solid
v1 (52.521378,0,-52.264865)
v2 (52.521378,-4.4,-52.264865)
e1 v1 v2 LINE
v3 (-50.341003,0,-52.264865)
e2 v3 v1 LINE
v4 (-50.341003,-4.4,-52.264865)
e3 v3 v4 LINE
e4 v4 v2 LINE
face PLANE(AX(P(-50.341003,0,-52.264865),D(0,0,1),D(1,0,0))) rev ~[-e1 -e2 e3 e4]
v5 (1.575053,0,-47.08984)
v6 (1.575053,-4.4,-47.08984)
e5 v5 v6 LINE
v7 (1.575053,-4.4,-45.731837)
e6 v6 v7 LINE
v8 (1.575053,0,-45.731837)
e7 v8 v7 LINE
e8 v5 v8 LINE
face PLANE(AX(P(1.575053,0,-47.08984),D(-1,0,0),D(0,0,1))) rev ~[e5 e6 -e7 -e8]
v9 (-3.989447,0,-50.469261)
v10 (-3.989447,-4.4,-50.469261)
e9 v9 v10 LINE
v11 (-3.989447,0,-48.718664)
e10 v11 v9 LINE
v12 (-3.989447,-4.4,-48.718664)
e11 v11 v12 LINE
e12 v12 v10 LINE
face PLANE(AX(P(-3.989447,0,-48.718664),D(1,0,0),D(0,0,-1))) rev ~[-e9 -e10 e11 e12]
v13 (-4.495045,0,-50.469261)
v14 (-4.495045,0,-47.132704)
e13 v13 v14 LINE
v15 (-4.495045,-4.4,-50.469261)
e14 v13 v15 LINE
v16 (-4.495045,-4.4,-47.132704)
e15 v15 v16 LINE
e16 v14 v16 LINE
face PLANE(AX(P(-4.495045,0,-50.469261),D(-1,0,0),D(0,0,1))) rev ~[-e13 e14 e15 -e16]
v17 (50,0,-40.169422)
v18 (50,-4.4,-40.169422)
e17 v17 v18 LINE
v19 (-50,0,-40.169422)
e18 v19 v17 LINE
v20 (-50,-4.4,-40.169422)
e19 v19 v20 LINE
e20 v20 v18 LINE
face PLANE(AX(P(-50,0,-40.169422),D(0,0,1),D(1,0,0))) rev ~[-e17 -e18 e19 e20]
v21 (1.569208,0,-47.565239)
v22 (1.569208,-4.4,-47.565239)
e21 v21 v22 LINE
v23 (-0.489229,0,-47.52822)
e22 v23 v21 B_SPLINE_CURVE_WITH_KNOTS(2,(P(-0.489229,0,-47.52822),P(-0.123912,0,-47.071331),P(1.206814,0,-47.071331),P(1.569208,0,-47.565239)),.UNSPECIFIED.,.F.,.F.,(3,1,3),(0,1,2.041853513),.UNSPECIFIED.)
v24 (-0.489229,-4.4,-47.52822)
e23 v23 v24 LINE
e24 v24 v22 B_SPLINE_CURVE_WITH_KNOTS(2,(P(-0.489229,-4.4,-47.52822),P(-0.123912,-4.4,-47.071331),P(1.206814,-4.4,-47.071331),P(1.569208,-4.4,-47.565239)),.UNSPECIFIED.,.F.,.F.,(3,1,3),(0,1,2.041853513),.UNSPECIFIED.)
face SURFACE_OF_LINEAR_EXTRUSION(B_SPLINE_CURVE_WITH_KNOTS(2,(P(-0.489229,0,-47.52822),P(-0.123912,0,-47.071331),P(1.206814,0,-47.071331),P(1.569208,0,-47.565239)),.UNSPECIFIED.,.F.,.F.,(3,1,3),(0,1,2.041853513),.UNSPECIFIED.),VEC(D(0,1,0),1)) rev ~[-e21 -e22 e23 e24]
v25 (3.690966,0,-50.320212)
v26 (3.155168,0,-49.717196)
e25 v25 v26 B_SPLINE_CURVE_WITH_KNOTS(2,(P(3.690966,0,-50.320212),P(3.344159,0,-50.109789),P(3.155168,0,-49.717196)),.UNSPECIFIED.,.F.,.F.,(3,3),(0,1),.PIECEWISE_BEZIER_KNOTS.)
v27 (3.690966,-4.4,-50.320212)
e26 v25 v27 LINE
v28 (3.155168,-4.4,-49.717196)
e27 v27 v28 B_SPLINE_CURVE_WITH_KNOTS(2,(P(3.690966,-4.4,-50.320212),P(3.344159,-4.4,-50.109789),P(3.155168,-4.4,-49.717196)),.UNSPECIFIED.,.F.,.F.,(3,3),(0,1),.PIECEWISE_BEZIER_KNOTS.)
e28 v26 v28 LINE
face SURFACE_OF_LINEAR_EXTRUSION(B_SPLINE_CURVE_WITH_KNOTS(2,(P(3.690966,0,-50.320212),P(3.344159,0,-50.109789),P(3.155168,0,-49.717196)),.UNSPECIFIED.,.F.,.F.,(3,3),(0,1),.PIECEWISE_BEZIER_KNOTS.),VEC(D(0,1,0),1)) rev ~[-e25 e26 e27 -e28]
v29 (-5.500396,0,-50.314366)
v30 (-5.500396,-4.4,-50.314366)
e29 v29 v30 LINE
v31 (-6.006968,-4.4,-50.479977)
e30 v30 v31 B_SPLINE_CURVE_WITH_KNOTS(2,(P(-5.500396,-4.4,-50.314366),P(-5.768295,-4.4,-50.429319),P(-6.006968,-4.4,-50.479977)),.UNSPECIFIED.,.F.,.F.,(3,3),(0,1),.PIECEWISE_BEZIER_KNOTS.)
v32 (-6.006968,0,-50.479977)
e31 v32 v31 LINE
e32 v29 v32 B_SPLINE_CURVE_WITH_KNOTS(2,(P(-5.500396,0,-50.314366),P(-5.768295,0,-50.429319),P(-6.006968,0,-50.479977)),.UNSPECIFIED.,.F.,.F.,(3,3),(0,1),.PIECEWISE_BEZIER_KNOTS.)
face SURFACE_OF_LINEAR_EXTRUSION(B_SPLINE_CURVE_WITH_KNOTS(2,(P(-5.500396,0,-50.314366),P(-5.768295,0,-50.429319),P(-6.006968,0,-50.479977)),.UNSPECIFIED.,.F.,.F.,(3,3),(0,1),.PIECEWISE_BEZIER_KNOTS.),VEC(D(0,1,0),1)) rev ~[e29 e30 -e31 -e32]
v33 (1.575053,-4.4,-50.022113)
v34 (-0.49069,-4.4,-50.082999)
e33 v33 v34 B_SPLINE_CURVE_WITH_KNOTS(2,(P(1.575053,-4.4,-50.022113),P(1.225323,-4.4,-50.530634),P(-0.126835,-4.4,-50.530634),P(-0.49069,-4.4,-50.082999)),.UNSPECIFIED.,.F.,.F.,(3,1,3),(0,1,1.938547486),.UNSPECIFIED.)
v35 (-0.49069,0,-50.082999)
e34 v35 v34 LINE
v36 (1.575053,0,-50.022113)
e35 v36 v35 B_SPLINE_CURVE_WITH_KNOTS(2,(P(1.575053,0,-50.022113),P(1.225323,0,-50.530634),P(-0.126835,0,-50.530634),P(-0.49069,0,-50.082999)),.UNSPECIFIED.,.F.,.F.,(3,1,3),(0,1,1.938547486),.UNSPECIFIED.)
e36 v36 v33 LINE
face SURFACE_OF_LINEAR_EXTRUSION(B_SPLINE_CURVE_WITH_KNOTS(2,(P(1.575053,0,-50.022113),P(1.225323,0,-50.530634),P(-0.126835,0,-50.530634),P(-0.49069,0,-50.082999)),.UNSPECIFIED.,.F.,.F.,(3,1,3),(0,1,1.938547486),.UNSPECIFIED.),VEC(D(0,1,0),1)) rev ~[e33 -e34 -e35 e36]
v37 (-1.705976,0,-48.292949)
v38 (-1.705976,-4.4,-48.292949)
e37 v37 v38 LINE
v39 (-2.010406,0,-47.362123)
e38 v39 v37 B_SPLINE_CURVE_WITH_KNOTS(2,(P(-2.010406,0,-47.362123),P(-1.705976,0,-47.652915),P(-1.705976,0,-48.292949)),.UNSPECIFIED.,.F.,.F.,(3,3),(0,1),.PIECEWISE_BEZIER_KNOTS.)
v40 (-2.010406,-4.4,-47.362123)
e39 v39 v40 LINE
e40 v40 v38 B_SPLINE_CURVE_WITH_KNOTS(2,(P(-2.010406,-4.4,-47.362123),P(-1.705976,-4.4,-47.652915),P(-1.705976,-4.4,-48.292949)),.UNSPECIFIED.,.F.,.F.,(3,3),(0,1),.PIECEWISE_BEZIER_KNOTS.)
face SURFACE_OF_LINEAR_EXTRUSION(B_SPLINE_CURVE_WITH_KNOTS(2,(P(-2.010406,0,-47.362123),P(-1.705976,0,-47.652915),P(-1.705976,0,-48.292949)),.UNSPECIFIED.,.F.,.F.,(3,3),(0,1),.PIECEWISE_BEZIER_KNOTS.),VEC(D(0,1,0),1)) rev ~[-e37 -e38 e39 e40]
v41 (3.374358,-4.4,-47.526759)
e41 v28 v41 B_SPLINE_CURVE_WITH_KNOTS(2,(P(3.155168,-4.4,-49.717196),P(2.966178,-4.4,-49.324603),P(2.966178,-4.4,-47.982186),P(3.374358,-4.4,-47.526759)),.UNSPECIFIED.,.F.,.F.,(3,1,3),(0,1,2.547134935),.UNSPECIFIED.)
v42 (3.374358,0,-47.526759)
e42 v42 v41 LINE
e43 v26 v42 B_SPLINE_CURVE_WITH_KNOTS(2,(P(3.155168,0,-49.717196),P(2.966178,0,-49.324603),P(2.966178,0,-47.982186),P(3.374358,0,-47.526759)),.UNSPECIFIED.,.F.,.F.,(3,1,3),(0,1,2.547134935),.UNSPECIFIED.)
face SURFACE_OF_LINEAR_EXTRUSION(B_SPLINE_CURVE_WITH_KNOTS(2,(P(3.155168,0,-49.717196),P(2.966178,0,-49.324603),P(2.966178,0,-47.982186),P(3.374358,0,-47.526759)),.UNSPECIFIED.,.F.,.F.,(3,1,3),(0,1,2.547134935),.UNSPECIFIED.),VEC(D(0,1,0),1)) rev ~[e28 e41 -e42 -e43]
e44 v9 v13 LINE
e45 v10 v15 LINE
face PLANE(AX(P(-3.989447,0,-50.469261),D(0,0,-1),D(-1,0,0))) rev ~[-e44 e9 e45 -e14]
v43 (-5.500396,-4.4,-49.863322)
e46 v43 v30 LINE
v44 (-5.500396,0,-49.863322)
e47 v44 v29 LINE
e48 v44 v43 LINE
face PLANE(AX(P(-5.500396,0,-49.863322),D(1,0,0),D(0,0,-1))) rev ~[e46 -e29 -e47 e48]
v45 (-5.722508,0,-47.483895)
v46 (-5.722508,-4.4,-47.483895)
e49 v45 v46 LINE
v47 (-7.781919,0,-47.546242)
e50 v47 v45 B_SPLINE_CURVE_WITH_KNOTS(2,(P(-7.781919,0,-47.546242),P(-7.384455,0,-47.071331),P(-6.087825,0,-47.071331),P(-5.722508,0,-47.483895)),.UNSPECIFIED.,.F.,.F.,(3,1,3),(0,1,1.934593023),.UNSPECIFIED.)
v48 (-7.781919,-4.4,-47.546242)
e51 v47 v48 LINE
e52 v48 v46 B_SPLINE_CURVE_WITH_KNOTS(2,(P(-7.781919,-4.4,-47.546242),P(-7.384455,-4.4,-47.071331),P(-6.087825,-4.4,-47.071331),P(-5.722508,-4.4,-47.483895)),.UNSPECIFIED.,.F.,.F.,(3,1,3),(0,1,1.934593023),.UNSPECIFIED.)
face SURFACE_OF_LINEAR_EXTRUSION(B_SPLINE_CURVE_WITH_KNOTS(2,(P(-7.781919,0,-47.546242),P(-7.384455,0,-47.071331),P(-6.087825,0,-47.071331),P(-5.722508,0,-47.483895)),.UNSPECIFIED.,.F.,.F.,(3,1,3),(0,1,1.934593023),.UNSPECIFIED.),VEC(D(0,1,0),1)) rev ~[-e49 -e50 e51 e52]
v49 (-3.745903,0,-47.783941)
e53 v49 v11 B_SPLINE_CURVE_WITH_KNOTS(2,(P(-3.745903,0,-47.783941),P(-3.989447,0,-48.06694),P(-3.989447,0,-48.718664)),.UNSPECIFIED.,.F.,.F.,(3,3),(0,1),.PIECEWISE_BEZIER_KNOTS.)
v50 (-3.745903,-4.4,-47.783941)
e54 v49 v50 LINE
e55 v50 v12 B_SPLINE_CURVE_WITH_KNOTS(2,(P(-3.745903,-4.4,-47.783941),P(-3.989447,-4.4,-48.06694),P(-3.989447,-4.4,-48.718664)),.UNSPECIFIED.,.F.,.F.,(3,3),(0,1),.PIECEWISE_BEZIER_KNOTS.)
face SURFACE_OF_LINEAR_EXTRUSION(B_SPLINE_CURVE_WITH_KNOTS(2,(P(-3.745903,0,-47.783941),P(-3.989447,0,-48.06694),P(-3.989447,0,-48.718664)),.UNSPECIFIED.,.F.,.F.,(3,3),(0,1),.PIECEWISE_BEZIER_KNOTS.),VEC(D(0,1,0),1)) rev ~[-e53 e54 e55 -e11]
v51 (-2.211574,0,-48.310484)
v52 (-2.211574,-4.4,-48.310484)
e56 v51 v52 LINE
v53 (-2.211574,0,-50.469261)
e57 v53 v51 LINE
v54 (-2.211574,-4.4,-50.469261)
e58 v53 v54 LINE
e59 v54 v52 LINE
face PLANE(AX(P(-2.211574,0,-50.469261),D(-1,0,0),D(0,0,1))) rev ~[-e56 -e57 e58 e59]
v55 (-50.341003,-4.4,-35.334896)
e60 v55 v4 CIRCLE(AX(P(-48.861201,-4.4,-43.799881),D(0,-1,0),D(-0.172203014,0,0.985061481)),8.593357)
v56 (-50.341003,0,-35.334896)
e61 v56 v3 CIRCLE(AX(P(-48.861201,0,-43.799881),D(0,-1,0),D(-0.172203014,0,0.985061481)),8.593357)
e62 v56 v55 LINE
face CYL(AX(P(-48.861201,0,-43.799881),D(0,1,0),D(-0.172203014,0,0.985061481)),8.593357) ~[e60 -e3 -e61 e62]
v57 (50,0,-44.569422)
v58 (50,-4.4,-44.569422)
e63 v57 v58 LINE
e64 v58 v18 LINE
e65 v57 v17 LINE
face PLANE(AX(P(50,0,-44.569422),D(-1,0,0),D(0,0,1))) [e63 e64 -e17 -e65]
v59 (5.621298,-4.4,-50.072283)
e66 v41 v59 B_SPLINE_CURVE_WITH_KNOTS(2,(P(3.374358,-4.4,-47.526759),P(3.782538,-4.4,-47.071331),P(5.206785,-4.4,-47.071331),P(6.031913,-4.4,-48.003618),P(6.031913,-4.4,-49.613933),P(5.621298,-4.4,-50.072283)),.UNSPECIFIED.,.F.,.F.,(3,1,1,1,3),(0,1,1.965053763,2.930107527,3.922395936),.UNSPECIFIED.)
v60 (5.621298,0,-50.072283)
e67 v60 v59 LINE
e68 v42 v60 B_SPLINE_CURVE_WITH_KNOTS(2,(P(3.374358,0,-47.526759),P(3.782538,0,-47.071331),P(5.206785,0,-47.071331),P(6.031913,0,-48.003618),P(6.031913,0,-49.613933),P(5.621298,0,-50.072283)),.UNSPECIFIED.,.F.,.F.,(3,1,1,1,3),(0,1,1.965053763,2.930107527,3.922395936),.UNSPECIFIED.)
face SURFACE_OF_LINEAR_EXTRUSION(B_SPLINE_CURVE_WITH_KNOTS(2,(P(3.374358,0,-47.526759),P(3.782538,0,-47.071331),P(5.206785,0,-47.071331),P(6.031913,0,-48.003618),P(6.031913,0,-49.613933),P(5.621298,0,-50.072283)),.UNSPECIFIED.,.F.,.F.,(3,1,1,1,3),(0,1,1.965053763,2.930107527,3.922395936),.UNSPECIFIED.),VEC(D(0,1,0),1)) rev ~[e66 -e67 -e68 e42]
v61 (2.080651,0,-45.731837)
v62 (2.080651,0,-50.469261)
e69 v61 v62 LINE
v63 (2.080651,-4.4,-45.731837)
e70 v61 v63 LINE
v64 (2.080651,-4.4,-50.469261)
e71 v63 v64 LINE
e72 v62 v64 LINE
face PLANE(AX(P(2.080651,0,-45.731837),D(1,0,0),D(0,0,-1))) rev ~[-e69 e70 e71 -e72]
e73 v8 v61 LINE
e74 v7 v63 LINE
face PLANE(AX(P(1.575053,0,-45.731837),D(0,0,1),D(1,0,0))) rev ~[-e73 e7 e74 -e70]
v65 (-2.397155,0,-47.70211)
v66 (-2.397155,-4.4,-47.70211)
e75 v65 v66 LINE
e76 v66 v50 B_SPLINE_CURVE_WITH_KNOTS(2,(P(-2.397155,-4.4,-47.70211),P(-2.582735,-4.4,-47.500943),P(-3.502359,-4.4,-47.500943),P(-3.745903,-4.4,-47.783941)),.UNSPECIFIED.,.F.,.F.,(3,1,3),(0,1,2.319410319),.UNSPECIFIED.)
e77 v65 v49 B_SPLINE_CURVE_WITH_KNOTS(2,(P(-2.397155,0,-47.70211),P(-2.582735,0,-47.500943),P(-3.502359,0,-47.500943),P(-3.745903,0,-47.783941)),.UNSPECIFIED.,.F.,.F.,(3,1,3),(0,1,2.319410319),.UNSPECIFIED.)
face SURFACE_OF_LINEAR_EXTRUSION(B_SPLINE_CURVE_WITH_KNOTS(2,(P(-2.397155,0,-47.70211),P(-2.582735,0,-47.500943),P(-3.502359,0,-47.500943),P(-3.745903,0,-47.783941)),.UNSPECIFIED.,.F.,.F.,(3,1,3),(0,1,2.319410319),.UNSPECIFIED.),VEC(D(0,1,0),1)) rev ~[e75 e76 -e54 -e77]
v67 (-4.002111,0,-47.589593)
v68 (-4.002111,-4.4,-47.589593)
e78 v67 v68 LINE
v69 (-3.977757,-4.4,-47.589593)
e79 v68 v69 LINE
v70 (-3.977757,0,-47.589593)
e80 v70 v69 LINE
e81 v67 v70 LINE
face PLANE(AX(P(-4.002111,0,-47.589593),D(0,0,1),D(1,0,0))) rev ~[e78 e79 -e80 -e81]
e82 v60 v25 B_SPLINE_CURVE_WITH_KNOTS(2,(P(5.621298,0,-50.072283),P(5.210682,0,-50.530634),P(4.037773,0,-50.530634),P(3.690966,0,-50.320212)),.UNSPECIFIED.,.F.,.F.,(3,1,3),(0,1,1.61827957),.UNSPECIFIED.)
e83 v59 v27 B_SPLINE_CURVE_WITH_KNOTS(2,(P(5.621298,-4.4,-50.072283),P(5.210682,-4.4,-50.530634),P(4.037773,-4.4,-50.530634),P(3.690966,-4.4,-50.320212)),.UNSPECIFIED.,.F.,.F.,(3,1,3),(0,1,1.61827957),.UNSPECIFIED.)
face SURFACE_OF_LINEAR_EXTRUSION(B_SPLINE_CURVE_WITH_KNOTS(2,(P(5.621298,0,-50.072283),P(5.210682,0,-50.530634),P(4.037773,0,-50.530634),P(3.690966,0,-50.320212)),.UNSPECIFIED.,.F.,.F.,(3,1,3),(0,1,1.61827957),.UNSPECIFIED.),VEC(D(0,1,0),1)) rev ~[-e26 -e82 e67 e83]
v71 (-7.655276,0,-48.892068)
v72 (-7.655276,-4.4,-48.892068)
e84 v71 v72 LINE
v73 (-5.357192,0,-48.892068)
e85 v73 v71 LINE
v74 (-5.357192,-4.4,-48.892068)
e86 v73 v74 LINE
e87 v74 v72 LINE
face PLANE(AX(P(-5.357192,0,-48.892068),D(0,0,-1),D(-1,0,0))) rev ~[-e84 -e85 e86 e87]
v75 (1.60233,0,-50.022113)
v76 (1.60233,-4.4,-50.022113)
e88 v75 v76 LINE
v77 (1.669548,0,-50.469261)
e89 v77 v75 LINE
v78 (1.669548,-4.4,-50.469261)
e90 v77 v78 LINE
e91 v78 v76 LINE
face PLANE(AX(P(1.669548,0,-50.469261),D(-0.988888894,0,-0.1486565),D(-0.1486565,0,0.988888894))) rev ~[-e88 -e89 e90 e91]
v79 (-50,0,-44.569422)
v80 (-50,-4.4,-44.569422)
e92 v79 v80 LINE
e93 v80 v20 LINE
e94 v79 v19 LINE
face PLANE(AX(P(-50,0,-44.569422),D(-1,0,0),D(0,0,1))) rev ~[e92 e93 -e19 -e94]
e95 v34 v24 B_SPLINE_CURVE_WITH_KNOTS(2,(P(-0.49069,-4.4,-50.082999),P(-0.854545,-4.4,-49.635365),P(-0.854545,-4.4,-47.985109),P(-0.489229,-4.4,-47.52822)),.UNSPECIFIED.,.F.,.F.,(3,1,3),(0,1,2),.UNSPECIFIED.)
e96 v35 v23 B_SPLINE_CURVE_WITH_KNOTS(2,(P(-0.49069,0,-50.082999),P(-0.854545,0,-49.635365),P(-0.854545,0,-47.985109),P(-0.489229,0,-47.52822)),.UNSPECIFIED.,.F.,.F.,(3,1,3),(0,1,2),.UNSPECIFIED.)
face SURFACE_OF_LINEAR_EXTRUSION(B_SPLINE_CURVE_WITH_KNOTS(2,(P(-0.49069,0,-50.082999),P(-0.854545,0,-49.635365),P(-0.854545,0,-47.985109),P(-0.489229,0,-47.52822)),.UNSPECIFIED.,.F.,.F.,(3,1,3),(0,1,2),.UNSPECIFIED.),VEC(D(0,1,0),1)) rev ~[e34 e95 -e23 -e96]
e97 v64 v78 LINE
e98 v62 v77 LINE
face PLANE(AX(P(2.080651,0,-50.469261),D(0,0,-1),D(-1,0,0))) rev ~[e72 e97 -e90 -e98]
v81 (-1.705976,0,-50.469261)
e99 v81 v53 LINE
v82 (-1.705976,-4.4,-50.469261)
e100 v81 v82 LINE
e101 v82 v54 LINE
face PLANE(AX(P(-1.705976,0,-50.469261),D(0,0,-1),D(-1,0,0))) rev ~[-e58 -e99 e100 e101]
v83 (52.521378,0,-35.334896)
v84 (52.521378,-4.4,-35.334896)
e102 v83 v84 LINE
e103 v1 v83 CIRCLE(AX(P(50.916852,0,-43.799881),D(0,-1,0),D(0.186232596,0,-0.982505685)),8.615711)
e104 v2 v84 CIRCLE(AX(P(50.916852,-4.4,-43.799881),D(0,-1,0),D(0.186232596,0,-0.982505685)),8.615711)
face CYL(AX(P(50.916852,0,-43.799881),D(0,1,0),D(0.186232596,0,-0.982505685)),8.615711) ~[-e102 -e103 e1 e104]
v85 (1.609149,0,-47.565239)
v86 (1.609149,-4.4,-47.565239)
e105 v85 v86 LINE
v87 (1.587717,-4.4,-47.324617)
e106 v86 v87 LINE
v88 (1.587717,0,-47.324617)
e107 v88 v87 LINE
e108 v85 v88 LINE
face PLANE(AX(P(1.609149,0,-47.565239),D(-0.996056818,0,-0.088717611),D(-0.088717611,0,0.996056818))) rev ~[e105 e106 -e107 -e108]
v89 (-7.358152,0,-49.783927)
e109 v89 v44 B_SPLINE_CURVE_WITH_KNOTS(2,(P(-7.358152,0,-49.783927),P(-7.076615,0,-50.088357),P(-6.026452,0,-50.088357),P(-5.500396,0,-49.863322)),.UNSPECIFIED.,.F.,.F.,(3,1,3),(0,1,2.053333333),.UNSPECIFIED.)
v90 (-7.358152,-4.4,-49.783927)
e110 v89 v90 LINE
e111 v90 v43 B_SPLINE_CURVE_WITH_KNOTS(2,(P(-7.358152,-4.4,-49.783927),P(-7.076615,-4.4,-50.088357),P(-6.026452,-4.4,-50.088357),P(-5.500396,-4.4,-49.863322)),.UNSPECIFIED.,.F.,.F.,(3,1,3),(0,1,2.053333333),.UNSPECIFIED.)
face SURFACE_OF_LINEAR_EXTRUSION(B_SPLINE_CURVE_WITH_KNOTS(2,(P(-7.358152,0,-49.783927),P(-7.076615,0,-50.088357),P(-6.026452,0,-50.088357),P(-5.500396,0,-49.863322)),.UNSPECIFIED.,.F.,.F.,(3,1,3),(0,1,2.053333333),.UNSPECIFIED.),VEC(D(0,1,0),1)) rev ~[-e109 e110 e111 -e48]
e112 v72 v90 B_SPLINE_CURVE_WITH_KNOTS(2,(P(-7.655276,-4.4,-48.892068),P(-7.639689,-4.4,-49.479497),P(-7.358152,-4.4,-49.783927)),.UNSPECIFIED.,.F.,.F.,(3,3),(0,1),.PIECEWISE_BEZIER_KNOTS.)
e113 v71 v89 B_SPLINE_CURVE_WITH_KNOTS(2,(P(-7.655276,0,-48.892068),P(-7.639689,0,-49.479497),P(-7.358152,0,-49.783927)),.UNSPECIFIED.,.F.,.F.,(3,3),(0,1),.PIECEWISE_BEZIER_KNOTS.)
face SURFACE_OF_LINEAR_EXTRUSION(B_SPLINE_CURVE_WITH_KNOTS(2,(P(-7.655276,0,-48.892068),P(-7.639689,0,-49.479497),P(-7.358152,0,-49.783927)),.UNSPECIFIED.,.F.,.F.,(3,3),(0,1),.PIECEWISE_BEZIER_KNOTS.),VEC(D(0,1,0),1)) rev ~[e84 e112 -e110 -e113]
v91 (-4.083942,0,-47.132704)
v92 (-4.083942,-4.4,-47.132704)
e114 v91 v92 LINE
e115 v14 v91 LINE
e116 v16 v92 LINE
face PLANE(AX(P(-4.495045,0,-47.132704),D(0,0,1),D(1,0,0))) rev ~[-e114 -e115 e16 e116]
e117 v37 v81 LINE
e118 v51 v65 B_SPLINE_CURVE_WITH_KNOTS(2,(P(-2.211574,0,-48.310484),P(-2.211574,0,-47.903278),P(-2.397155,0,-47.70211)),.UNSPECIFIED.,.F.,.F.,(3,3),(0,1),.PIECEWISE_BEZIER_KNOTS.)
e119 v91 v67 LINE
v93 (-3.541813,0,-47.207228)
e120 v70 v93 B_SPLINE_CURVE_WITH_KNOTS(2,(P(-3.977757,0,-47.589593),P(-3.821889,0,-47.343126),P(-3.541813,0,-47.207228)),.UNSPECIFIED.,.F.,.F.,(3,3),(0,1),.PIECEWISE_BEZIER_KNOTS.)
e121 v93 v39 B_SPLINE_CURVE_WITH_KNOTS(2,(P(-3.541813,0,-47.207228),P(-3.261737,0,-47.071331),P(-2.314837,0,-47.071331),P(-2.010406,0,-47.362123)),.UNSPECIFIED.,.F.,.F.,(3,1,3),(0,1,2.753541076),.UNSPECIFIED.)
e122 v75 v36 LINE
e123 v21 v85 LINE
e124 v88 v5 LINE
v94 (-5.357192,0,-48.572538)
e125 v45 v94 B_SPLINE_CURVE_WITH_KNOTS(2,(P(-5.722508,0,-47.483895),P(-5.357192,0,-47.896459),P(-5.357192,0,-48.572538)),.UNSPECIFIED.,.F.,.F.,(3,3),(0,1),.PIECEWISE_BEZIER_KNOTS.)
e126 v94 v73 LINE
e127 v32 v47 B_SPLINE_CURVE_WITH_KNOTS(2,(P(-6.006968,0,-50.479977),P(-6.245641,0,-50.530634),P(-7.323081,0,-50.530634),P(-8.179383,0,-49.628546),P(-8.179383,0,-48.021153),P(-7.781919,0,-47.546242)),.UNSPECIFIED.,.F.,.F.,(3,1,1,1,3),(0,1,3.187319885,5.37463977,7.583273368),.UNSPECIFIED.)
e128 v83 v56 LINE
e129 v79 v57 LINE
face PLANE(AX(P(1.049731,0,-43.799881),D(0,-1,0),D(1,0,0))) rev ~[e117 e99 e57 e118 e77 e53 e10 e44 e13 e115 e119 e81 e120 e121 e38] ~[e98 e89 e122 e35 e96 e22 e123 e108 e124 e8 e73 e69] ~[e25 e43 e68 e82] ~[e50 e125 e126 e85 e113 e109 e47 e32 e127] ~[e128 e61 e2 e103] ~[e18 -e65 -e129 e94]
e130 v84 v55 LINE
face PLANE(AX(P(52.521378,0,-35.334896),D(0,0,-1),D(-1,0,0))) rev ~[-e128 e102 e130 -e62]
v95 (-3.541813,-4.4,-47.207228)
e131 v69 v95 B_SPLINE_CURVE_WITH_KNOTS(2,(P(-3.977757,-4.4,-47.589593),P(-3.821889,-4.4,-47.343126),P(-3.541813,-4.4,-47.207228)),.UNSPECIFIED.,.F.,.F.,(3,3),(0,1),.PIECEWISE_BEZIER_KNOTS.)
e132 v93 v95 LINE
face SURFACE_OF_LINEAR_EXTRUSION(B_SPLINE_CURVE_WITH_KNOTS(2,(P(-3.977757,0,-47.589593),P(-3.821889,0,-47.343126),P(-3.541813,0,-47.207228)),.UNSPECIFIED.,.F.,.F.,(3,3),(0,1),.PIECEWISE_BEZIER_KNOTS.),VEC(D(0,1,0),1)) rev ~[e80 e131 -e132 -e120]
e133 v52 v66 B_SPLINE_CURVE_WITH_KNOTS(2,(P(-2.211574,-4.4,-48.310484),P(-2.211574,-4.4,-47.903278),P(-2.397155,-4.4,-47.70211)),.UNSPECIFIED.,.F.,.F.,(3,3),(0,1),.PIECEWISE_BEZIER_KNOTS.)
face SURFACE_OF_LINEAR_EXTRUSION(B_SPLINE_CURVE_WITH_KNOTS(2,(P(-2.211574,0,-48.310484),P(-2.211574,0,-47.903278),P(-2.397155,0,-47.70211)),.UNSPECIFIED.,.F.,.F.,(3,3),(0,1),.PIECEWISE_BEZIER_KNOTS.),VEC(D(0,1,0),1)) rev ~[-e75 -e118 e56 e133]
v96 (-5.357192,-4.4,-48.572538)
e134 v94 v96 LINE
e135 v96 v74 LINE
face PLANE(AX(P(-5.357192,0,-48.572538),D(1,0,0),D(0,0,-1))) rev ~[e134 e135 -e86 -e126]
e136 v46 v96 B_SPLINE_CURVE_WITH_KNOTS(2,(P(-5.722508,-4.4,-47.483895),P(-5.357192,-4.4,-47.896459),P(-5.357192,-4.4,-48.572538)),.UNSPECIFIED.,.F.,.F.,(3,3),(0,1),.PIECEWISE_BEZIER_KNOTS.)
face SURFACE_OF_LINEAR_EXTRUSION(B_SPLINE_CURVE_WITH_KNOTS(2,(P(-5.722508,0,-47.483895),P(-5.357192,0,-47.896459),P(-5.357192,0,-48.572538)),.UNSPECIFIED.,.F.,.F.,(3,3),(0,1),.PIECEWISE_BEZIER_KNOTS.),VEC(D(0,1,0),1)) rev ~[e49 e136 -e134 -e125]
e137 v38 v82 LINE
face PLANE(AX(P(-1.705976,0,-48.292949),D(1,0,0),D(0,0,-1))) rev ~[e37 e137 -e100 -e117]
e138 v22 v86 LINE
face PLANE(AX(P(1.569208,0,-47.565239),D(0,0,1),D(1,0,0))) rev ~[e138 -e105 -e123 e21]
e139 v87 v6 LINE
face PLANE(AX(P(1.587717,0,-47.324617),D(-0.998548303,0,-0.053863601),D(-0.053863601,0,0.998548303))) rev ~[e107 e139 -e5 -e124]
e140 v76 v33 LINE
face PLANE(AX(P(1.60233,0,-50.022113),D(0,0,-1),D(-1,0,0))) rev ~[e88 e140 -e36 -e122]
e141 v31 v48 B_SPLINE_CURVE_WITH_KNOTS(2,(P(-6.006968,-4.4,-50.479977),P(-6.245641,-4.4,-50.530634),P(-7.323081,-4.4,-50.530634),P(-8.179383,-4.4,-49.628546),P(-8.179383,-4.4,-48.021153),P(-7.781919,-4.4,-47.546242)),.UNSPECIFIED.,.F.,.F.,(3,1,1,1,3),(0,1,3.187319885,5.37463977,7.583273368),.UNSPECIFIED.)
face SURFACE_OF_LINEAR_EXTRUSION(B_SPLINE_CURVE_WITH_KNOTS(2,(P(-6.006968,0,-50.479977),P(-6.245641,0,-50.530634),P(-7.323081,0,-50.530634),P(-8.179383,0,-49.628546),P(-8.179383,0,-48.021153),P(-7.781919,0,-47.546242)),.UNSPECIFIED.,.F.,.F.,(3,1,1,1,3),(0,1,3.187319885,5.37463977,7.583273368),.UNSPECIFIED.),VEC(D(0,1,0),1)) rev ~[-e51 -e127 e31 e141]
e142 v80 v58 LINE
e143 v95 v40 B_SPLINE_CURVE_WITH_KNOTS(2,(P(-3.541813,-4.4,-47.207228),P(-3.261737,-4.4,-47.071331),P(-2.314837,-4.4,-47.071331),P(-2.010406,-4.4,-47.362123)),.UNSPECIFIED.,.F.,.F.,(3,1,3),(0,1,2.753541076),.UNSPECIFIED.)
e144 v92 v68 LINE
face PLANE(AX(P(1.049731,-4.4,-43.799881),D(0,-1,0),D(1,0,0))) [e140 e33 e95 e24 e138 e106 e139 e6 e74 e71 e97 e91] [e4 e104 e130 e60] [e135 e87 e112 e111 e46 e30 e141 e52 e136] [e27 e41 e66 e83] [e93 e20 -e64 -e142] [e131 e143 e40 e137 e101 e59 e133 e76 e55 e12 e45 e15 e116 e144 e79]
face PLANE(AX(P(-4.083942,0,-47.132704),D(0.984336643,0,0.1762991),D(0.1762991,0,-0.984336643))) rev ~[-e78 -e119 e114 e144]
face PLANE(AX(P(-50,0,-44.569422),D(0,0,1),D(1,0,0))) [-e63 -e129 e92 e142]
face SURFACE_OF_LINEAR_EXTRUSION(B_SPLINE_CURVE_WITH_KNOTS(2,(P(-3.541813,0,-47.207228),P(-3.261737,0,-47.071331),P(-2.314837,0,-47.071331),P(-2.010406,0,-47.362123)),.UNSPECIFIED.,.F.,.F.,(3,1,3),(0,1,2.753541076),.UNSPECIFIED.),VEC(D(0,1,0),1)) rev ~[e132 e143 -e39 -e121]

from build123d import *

# Parameters (mm, degrees)
F0_W     = 100
F0_H     = 4.4
F1_DEPTH = 4.4


with BuildPart() as f1:
    # F0 (on Front) → F1 (new body)
    with BuildSketch(Plane.XZ):
        with BuildLine():
            Line((52.5213778019, -35.3348962963), (-50.3410026431, -35.3348962963))
            ThreePointArc((-50.3410026431, -35.3348962963), (-57.4545573502, -43.799880892), (-50.3410026431, -52.2648654878))
            Line((-50.3410026431, -52.2648654878), (52.5213778019, -52.2648654878))
            ThreePointArc((52.5213778019, -52.2648654878), (59.5325622156, -43.799880892), (52.5213778019, -35.3348962963))
        make_face()
        with BuildLine():
            add(Edge.make_bspline(
                [(-6.0069680161, -50.4799766115), (-6.2456414194, -50.5306338237), (-6.5836808927, -50.5306338237)],
                knots=[0, 0, 0, 1, 1, 1], degree=2))
            add(Edge.make_bspline(
                [(-6.5836808927, -50.5306338237), (-7.3230813545, -50.5306338237), (-7.7512322148, -50.0795898002)],
                knots=[0, 0, 0, 1, 1, 1], degree=2))
            add(Edge.make_bspline(
                [(-7.7512322148, -50.0795898002), (-8.1793830751, -49.6285457767), (-8.1793830751, -48.8287463312)],
                knots=[0, 0, 0, 1, 1, 1], degree=2))
            add(Edge.make_bspline(
                [(-8.1793830751, -48.8287463312), (-8.1793830751, -48.0211534685), (-7.7819187952, -47.5462421046)],
                knots=[0, 0, 0, 1, 1, 1], degree=2))
            add(Edge.make_bspline(
                [(-7.7819187952, -47.5462421046), (-7.3844545154, -47.0713307408), (-6.7142206317, -47.0713307408)],
                knots=[0, 0, 0, 1, 1, 1], degree=2))
            add(Edge.make_bspline(
                [(-6.7142206317, -47.0713307408), (-6.08782472, -47.0713307408), (-5.7225082864, -47.4838947666)],
                knots=[0, 0, 0, 1, 1, 1], degree=2))
            add(Edge.make_bspline(
                [(-5.7225082864, -47.4838947666), (-5.3571918527, -47.8964587924), (-5.3571918527, -48.572537739)],
                knots=[0, 0, 0, 1, 1, 1], degree=2))
            Line((-5.3571918527, -48.572537739), (-5.3571918527, -48.8920678464))
            Line((-5.3571918527, -48.8920678464), (-7.6552757649, -48.8920678464))
            add(Edge.make_bspline(
                [(-7.6552757649, -48.8920678464), (-7.6396889304, -49.4794966718), (-7.3581517322, -49.7839270332)],
                knots=[0, 0, 0, 1, 1, 1], degree=2))
            add(Edge.make_bspline(
                [(-7.3581517322, -49.7839270332), (-7.0766145339, -50.0883573946), (-6.5651715267, -50.0883573946)],
                knots=[0, 0, 0, 1, 1, 1], degree=2))
            add(Edge.make_bspline(
                [(-6.5651715267, -50.0883573946), (-6.0264515592, -50.0883573946), (-5.5003958947, -49.8633224714)],
                knots=[0, 0, 0, 1, 1, 1], degree=2))
            Line((-5.5003958947, -49.8633224714), (-5.5003958947, -50.3143664949))
            add(Edge.make_bspline(
                [(-5.5003958947, -50.3143664949), (-5.7682946127, -50.4293193994), (-6.0069680161, -50.4799766115)],
                knots=[0, 0, 0, 1, 1, 1], degree=2))
        make_face(mode=Mode.SUBTRACT)
        with BuildLine():
            Line((-1.70597587, -50.4692606628), (-2.2115738142, -50.4692606628))
            Line((-2.2115738142, -50.4692606628), (-2.2115738142, -48.3104840839))
            add(Edge.make_bspline(
                [(-2.2115738142, -48.3104840839), (-2.2115738142, -47.9032780325), (-2.3971545626, -47.7021104497)],
                knots=[0, 0, 0, 1, 1, 1], degree=2))
            add(Edge.make_bspline(
                [(-2.3971545626, -47.7021104497), (-2.5827353109, -47.5009428669), (-2.9792254136, -47.5009428669)],
                knots=[0, 0, 0, 1, 1, 1], degree=2))
            add(Edge.make_bspline(
                [(-2.9792254136, -47.5009428669), (-3.5023585466, -47.5009428669), (-3.7459028358, -47.7839413308)],
                knots=[0, 0, 0, 1, 1, 1], degree=2))
            add(Edge.make_bspline(
                [(-3.7459028358, -47.7839413308), (-3.9894471249, -48.0669397948), (-3.9894471249, -48.7186643125)],
                knots=[0, 0, 0, 1, 1, 1], degree=2))
            Line((-3.9894471249, -48.7186643125), (-3.9894471249, -50.4692606628))
            Line((-3.9894471249, -50.4692606628), (-4.4950450691, -50.4692606628))
            Line((-4.4950450691, -50.4692606628), (-4.4950450691, -47.1327039017))
            Line((-4.4950450691, -47.1327039017), (-4.0839423091, -47.1327039017))
            Line((-4.0839423091, -47.1327039017), (-4.0021114279, -47.5895929881))
            Line((-4.0021114279, -47.5895929881), (-3.977756999, -47.5895929881))
            add(Edge.make_bspline(
                [(-3.977756999, -47.5895929881), (-3.821888654, -47.3431261675), (-3.5418127215, -47.2072284542)],
                knots=[0, 0, 0, 1, 1, 1], degree=2))
            add(Edge.make_bspline(
                [(-3.5418127215, -47.2072284542), (-3.261736789, -47.0713307408), (-2.9178522527, -47.0713307408)],
                knots=[0, 0, 0, 1, 1, 1], degree=2))
            add(Edge.make_bspline(
                [(-2.9178522527, -47.0713307408), (-2.3148365928, -47.0713307408), (-2.0104062314, -47.3621226221)],
                knots=[0, 0, 0, 1, 1, 1], degree=2))
            add(Edge.make_bspline(
                [(-2.0104062314, -47.3621226221), (-1.70597587, -47.6529145033), (-1.70597587, -48.2929488951)],
                knots=[0, 0, 0, 1, 1, 1], degree=2))
            Line((-1.70597587, -48.2929488951), (-1.70597587, -50.4692606628))
        make_face(mode=Mode.SUBTRACT)
        with BuildLine():
            Line((1.6695479773, -50.4692606628), (1.6023297535, -50.0221133479))
            Line((1.6023297535, -50.0221133479), (1.5750527932, -50.0221133479))
            add(Edge.make_bspline(
                [(1.5750527932, -50.0221133479), (1.225323194, -50.5306338237), (0.5278123499, -50.5306338237)],
                knots=[0, 0, 0, 1, 1, 1], degree=2))
            add(Edge.make_bspline(
                [(0.5278123499, -50.5306338237), (-0.1268346993, -50.5306338237), (-0.4906898672, -50.0829994202)],
                knots=[0, 0, 0, 1, 1, 1], degree=2))
            add(Edge.make_bspline(
                [(-0.4906898672, -50.0829994202), (-0.8545450352, -49.6353650168), (-0.8545450352, -48.8102369652)],
                knots=[0, 0, 0, 1, 1, 1], degree=2))
            add(Edge.make_bspline(
                [(-0.8545450352, -48.8102369652), (-0.8545450352, -47.9851089137), (-0.4892286015, -47.5282198273)],
                knots=[0, 0, 0, 1, 1, 1], degree=2))
            add(Edge.make_bspline(
                [(-0.4892286015, -47.5282198273), (-0.1239121678, -47.0713307408), (0.5278123499, -47.0713307408)],
                knots=[0, 0, 0, 1, 1, 1], degree=2))
            add(Edge.make_bspline(
                [(0.5278123499, -47.0713307408), (1.206813828, -47.0713307408), (1.5692077302, -47.5652385592)],
                knots=[0, 0, 0, 1, 1, 1], degree=2))
            Line((1.5692077302, -47.5652385592), (1.6091489936, -47.5652385592))
            Line((1.6091489936, -47.5652385592), (1.5877170962, -47.3246168015))
            Line((1.5877170962, -47.3246168015), (1.5750527932, -47.0898401068))
            Line((1.5750527932, -47.0898401068), (1.5750527932, -45.7318371506))
            Line((1.5750527932, -45.7318371506), (2.0806507374, -45.7318371506))
            Line((2.0806507374, -45.7318371506), (2.0806507374, -50.4692606628))
            Line((2.0806507374, -50.4692606628), (1.6695479773, -50.4692606628))
        make_face(mode=Mode.SUBTRACT)
        with Locations((0, -42.3694215596)):
            Rectangle(F0_W, F0_H, mode=Mode.SUBTRACT)
        with BuildLine():
            add(Edge.make_bspline(
                [(5.6193492585, -47.5374745102), (6.0319132843, -48.0036182796), (6.0319132843, -48.7975726622)],
                knots=[0, 0, 0, 1, 1, 1], degree=2))
            add(Edge.make_bspline(
                [(6.0319132843, -48.7975726622), (6.0319132843, -49.6139331194), (5.6212976128, -50.0722834715)],
                knots=[0, 0, 0, 1, 1, 1], degree=2))
            add(Edge.make_bspline(
                [(5.6212976128, -50.0722834715), (5.2106819413, -50.5306338237), (4.4858941369, -50.5306338237)],
                knots=[0, 0, 0, 1, 1, 1], degree=2))
            add(Edge.make_bspline(
                [(4.4858941369, -50.5306338237), (4.0377726449, -50.5306338237), (3.6909655771, -50.3202115578)],
                knots=[0, 0, 0, 1, 1, 1], degree=2))
            add(Edge.make_bspline(
                [(3.6909655771, -50.3202115578), (3.3441585094, -50.109789292), (3.155168141, -49.717195898)],
                knots=[0, 0, 0, 1, 1, 1], degree=2))
            add(Edge.make_bspline(
                [(3.155168141, -49.717195898), (2.9661777727, -49.3246025039), (2.9661777727, -48.7975726622)],
                knots=[0, 0, 0, 1, 1, 1], degree=2))
            add(Edge.make_bspline(
                [(2.9661777727, -48.7975726622), (2.9661777727, -47.9821863822), (3.3743580013, -47.5267585615)],
                knots=[0, 0, 0, 1, 1, 1], degree=2))
            add(Edge.make_bspline(
                [(3.3743580013, -47.5267585615), (3.7825382298, -47.0713307408), (4.5073260343, -47.0713307408)],
                knots=[0, 0, 0, 1, 1, 1], degree=2))
            add(Edge.make_bspline(
                [(4.5073260343, -47.0713307408), (5.2067852327, -47.0713307408), (5.6193492585, -47.5374745102)],
                knots=[0, 0, 0, 1, 1, 1], degree=2))
        make_face(mode=Mode.SUBTRACT)
    extrude(amount=F1_DEPTH)


solid = f1.part
